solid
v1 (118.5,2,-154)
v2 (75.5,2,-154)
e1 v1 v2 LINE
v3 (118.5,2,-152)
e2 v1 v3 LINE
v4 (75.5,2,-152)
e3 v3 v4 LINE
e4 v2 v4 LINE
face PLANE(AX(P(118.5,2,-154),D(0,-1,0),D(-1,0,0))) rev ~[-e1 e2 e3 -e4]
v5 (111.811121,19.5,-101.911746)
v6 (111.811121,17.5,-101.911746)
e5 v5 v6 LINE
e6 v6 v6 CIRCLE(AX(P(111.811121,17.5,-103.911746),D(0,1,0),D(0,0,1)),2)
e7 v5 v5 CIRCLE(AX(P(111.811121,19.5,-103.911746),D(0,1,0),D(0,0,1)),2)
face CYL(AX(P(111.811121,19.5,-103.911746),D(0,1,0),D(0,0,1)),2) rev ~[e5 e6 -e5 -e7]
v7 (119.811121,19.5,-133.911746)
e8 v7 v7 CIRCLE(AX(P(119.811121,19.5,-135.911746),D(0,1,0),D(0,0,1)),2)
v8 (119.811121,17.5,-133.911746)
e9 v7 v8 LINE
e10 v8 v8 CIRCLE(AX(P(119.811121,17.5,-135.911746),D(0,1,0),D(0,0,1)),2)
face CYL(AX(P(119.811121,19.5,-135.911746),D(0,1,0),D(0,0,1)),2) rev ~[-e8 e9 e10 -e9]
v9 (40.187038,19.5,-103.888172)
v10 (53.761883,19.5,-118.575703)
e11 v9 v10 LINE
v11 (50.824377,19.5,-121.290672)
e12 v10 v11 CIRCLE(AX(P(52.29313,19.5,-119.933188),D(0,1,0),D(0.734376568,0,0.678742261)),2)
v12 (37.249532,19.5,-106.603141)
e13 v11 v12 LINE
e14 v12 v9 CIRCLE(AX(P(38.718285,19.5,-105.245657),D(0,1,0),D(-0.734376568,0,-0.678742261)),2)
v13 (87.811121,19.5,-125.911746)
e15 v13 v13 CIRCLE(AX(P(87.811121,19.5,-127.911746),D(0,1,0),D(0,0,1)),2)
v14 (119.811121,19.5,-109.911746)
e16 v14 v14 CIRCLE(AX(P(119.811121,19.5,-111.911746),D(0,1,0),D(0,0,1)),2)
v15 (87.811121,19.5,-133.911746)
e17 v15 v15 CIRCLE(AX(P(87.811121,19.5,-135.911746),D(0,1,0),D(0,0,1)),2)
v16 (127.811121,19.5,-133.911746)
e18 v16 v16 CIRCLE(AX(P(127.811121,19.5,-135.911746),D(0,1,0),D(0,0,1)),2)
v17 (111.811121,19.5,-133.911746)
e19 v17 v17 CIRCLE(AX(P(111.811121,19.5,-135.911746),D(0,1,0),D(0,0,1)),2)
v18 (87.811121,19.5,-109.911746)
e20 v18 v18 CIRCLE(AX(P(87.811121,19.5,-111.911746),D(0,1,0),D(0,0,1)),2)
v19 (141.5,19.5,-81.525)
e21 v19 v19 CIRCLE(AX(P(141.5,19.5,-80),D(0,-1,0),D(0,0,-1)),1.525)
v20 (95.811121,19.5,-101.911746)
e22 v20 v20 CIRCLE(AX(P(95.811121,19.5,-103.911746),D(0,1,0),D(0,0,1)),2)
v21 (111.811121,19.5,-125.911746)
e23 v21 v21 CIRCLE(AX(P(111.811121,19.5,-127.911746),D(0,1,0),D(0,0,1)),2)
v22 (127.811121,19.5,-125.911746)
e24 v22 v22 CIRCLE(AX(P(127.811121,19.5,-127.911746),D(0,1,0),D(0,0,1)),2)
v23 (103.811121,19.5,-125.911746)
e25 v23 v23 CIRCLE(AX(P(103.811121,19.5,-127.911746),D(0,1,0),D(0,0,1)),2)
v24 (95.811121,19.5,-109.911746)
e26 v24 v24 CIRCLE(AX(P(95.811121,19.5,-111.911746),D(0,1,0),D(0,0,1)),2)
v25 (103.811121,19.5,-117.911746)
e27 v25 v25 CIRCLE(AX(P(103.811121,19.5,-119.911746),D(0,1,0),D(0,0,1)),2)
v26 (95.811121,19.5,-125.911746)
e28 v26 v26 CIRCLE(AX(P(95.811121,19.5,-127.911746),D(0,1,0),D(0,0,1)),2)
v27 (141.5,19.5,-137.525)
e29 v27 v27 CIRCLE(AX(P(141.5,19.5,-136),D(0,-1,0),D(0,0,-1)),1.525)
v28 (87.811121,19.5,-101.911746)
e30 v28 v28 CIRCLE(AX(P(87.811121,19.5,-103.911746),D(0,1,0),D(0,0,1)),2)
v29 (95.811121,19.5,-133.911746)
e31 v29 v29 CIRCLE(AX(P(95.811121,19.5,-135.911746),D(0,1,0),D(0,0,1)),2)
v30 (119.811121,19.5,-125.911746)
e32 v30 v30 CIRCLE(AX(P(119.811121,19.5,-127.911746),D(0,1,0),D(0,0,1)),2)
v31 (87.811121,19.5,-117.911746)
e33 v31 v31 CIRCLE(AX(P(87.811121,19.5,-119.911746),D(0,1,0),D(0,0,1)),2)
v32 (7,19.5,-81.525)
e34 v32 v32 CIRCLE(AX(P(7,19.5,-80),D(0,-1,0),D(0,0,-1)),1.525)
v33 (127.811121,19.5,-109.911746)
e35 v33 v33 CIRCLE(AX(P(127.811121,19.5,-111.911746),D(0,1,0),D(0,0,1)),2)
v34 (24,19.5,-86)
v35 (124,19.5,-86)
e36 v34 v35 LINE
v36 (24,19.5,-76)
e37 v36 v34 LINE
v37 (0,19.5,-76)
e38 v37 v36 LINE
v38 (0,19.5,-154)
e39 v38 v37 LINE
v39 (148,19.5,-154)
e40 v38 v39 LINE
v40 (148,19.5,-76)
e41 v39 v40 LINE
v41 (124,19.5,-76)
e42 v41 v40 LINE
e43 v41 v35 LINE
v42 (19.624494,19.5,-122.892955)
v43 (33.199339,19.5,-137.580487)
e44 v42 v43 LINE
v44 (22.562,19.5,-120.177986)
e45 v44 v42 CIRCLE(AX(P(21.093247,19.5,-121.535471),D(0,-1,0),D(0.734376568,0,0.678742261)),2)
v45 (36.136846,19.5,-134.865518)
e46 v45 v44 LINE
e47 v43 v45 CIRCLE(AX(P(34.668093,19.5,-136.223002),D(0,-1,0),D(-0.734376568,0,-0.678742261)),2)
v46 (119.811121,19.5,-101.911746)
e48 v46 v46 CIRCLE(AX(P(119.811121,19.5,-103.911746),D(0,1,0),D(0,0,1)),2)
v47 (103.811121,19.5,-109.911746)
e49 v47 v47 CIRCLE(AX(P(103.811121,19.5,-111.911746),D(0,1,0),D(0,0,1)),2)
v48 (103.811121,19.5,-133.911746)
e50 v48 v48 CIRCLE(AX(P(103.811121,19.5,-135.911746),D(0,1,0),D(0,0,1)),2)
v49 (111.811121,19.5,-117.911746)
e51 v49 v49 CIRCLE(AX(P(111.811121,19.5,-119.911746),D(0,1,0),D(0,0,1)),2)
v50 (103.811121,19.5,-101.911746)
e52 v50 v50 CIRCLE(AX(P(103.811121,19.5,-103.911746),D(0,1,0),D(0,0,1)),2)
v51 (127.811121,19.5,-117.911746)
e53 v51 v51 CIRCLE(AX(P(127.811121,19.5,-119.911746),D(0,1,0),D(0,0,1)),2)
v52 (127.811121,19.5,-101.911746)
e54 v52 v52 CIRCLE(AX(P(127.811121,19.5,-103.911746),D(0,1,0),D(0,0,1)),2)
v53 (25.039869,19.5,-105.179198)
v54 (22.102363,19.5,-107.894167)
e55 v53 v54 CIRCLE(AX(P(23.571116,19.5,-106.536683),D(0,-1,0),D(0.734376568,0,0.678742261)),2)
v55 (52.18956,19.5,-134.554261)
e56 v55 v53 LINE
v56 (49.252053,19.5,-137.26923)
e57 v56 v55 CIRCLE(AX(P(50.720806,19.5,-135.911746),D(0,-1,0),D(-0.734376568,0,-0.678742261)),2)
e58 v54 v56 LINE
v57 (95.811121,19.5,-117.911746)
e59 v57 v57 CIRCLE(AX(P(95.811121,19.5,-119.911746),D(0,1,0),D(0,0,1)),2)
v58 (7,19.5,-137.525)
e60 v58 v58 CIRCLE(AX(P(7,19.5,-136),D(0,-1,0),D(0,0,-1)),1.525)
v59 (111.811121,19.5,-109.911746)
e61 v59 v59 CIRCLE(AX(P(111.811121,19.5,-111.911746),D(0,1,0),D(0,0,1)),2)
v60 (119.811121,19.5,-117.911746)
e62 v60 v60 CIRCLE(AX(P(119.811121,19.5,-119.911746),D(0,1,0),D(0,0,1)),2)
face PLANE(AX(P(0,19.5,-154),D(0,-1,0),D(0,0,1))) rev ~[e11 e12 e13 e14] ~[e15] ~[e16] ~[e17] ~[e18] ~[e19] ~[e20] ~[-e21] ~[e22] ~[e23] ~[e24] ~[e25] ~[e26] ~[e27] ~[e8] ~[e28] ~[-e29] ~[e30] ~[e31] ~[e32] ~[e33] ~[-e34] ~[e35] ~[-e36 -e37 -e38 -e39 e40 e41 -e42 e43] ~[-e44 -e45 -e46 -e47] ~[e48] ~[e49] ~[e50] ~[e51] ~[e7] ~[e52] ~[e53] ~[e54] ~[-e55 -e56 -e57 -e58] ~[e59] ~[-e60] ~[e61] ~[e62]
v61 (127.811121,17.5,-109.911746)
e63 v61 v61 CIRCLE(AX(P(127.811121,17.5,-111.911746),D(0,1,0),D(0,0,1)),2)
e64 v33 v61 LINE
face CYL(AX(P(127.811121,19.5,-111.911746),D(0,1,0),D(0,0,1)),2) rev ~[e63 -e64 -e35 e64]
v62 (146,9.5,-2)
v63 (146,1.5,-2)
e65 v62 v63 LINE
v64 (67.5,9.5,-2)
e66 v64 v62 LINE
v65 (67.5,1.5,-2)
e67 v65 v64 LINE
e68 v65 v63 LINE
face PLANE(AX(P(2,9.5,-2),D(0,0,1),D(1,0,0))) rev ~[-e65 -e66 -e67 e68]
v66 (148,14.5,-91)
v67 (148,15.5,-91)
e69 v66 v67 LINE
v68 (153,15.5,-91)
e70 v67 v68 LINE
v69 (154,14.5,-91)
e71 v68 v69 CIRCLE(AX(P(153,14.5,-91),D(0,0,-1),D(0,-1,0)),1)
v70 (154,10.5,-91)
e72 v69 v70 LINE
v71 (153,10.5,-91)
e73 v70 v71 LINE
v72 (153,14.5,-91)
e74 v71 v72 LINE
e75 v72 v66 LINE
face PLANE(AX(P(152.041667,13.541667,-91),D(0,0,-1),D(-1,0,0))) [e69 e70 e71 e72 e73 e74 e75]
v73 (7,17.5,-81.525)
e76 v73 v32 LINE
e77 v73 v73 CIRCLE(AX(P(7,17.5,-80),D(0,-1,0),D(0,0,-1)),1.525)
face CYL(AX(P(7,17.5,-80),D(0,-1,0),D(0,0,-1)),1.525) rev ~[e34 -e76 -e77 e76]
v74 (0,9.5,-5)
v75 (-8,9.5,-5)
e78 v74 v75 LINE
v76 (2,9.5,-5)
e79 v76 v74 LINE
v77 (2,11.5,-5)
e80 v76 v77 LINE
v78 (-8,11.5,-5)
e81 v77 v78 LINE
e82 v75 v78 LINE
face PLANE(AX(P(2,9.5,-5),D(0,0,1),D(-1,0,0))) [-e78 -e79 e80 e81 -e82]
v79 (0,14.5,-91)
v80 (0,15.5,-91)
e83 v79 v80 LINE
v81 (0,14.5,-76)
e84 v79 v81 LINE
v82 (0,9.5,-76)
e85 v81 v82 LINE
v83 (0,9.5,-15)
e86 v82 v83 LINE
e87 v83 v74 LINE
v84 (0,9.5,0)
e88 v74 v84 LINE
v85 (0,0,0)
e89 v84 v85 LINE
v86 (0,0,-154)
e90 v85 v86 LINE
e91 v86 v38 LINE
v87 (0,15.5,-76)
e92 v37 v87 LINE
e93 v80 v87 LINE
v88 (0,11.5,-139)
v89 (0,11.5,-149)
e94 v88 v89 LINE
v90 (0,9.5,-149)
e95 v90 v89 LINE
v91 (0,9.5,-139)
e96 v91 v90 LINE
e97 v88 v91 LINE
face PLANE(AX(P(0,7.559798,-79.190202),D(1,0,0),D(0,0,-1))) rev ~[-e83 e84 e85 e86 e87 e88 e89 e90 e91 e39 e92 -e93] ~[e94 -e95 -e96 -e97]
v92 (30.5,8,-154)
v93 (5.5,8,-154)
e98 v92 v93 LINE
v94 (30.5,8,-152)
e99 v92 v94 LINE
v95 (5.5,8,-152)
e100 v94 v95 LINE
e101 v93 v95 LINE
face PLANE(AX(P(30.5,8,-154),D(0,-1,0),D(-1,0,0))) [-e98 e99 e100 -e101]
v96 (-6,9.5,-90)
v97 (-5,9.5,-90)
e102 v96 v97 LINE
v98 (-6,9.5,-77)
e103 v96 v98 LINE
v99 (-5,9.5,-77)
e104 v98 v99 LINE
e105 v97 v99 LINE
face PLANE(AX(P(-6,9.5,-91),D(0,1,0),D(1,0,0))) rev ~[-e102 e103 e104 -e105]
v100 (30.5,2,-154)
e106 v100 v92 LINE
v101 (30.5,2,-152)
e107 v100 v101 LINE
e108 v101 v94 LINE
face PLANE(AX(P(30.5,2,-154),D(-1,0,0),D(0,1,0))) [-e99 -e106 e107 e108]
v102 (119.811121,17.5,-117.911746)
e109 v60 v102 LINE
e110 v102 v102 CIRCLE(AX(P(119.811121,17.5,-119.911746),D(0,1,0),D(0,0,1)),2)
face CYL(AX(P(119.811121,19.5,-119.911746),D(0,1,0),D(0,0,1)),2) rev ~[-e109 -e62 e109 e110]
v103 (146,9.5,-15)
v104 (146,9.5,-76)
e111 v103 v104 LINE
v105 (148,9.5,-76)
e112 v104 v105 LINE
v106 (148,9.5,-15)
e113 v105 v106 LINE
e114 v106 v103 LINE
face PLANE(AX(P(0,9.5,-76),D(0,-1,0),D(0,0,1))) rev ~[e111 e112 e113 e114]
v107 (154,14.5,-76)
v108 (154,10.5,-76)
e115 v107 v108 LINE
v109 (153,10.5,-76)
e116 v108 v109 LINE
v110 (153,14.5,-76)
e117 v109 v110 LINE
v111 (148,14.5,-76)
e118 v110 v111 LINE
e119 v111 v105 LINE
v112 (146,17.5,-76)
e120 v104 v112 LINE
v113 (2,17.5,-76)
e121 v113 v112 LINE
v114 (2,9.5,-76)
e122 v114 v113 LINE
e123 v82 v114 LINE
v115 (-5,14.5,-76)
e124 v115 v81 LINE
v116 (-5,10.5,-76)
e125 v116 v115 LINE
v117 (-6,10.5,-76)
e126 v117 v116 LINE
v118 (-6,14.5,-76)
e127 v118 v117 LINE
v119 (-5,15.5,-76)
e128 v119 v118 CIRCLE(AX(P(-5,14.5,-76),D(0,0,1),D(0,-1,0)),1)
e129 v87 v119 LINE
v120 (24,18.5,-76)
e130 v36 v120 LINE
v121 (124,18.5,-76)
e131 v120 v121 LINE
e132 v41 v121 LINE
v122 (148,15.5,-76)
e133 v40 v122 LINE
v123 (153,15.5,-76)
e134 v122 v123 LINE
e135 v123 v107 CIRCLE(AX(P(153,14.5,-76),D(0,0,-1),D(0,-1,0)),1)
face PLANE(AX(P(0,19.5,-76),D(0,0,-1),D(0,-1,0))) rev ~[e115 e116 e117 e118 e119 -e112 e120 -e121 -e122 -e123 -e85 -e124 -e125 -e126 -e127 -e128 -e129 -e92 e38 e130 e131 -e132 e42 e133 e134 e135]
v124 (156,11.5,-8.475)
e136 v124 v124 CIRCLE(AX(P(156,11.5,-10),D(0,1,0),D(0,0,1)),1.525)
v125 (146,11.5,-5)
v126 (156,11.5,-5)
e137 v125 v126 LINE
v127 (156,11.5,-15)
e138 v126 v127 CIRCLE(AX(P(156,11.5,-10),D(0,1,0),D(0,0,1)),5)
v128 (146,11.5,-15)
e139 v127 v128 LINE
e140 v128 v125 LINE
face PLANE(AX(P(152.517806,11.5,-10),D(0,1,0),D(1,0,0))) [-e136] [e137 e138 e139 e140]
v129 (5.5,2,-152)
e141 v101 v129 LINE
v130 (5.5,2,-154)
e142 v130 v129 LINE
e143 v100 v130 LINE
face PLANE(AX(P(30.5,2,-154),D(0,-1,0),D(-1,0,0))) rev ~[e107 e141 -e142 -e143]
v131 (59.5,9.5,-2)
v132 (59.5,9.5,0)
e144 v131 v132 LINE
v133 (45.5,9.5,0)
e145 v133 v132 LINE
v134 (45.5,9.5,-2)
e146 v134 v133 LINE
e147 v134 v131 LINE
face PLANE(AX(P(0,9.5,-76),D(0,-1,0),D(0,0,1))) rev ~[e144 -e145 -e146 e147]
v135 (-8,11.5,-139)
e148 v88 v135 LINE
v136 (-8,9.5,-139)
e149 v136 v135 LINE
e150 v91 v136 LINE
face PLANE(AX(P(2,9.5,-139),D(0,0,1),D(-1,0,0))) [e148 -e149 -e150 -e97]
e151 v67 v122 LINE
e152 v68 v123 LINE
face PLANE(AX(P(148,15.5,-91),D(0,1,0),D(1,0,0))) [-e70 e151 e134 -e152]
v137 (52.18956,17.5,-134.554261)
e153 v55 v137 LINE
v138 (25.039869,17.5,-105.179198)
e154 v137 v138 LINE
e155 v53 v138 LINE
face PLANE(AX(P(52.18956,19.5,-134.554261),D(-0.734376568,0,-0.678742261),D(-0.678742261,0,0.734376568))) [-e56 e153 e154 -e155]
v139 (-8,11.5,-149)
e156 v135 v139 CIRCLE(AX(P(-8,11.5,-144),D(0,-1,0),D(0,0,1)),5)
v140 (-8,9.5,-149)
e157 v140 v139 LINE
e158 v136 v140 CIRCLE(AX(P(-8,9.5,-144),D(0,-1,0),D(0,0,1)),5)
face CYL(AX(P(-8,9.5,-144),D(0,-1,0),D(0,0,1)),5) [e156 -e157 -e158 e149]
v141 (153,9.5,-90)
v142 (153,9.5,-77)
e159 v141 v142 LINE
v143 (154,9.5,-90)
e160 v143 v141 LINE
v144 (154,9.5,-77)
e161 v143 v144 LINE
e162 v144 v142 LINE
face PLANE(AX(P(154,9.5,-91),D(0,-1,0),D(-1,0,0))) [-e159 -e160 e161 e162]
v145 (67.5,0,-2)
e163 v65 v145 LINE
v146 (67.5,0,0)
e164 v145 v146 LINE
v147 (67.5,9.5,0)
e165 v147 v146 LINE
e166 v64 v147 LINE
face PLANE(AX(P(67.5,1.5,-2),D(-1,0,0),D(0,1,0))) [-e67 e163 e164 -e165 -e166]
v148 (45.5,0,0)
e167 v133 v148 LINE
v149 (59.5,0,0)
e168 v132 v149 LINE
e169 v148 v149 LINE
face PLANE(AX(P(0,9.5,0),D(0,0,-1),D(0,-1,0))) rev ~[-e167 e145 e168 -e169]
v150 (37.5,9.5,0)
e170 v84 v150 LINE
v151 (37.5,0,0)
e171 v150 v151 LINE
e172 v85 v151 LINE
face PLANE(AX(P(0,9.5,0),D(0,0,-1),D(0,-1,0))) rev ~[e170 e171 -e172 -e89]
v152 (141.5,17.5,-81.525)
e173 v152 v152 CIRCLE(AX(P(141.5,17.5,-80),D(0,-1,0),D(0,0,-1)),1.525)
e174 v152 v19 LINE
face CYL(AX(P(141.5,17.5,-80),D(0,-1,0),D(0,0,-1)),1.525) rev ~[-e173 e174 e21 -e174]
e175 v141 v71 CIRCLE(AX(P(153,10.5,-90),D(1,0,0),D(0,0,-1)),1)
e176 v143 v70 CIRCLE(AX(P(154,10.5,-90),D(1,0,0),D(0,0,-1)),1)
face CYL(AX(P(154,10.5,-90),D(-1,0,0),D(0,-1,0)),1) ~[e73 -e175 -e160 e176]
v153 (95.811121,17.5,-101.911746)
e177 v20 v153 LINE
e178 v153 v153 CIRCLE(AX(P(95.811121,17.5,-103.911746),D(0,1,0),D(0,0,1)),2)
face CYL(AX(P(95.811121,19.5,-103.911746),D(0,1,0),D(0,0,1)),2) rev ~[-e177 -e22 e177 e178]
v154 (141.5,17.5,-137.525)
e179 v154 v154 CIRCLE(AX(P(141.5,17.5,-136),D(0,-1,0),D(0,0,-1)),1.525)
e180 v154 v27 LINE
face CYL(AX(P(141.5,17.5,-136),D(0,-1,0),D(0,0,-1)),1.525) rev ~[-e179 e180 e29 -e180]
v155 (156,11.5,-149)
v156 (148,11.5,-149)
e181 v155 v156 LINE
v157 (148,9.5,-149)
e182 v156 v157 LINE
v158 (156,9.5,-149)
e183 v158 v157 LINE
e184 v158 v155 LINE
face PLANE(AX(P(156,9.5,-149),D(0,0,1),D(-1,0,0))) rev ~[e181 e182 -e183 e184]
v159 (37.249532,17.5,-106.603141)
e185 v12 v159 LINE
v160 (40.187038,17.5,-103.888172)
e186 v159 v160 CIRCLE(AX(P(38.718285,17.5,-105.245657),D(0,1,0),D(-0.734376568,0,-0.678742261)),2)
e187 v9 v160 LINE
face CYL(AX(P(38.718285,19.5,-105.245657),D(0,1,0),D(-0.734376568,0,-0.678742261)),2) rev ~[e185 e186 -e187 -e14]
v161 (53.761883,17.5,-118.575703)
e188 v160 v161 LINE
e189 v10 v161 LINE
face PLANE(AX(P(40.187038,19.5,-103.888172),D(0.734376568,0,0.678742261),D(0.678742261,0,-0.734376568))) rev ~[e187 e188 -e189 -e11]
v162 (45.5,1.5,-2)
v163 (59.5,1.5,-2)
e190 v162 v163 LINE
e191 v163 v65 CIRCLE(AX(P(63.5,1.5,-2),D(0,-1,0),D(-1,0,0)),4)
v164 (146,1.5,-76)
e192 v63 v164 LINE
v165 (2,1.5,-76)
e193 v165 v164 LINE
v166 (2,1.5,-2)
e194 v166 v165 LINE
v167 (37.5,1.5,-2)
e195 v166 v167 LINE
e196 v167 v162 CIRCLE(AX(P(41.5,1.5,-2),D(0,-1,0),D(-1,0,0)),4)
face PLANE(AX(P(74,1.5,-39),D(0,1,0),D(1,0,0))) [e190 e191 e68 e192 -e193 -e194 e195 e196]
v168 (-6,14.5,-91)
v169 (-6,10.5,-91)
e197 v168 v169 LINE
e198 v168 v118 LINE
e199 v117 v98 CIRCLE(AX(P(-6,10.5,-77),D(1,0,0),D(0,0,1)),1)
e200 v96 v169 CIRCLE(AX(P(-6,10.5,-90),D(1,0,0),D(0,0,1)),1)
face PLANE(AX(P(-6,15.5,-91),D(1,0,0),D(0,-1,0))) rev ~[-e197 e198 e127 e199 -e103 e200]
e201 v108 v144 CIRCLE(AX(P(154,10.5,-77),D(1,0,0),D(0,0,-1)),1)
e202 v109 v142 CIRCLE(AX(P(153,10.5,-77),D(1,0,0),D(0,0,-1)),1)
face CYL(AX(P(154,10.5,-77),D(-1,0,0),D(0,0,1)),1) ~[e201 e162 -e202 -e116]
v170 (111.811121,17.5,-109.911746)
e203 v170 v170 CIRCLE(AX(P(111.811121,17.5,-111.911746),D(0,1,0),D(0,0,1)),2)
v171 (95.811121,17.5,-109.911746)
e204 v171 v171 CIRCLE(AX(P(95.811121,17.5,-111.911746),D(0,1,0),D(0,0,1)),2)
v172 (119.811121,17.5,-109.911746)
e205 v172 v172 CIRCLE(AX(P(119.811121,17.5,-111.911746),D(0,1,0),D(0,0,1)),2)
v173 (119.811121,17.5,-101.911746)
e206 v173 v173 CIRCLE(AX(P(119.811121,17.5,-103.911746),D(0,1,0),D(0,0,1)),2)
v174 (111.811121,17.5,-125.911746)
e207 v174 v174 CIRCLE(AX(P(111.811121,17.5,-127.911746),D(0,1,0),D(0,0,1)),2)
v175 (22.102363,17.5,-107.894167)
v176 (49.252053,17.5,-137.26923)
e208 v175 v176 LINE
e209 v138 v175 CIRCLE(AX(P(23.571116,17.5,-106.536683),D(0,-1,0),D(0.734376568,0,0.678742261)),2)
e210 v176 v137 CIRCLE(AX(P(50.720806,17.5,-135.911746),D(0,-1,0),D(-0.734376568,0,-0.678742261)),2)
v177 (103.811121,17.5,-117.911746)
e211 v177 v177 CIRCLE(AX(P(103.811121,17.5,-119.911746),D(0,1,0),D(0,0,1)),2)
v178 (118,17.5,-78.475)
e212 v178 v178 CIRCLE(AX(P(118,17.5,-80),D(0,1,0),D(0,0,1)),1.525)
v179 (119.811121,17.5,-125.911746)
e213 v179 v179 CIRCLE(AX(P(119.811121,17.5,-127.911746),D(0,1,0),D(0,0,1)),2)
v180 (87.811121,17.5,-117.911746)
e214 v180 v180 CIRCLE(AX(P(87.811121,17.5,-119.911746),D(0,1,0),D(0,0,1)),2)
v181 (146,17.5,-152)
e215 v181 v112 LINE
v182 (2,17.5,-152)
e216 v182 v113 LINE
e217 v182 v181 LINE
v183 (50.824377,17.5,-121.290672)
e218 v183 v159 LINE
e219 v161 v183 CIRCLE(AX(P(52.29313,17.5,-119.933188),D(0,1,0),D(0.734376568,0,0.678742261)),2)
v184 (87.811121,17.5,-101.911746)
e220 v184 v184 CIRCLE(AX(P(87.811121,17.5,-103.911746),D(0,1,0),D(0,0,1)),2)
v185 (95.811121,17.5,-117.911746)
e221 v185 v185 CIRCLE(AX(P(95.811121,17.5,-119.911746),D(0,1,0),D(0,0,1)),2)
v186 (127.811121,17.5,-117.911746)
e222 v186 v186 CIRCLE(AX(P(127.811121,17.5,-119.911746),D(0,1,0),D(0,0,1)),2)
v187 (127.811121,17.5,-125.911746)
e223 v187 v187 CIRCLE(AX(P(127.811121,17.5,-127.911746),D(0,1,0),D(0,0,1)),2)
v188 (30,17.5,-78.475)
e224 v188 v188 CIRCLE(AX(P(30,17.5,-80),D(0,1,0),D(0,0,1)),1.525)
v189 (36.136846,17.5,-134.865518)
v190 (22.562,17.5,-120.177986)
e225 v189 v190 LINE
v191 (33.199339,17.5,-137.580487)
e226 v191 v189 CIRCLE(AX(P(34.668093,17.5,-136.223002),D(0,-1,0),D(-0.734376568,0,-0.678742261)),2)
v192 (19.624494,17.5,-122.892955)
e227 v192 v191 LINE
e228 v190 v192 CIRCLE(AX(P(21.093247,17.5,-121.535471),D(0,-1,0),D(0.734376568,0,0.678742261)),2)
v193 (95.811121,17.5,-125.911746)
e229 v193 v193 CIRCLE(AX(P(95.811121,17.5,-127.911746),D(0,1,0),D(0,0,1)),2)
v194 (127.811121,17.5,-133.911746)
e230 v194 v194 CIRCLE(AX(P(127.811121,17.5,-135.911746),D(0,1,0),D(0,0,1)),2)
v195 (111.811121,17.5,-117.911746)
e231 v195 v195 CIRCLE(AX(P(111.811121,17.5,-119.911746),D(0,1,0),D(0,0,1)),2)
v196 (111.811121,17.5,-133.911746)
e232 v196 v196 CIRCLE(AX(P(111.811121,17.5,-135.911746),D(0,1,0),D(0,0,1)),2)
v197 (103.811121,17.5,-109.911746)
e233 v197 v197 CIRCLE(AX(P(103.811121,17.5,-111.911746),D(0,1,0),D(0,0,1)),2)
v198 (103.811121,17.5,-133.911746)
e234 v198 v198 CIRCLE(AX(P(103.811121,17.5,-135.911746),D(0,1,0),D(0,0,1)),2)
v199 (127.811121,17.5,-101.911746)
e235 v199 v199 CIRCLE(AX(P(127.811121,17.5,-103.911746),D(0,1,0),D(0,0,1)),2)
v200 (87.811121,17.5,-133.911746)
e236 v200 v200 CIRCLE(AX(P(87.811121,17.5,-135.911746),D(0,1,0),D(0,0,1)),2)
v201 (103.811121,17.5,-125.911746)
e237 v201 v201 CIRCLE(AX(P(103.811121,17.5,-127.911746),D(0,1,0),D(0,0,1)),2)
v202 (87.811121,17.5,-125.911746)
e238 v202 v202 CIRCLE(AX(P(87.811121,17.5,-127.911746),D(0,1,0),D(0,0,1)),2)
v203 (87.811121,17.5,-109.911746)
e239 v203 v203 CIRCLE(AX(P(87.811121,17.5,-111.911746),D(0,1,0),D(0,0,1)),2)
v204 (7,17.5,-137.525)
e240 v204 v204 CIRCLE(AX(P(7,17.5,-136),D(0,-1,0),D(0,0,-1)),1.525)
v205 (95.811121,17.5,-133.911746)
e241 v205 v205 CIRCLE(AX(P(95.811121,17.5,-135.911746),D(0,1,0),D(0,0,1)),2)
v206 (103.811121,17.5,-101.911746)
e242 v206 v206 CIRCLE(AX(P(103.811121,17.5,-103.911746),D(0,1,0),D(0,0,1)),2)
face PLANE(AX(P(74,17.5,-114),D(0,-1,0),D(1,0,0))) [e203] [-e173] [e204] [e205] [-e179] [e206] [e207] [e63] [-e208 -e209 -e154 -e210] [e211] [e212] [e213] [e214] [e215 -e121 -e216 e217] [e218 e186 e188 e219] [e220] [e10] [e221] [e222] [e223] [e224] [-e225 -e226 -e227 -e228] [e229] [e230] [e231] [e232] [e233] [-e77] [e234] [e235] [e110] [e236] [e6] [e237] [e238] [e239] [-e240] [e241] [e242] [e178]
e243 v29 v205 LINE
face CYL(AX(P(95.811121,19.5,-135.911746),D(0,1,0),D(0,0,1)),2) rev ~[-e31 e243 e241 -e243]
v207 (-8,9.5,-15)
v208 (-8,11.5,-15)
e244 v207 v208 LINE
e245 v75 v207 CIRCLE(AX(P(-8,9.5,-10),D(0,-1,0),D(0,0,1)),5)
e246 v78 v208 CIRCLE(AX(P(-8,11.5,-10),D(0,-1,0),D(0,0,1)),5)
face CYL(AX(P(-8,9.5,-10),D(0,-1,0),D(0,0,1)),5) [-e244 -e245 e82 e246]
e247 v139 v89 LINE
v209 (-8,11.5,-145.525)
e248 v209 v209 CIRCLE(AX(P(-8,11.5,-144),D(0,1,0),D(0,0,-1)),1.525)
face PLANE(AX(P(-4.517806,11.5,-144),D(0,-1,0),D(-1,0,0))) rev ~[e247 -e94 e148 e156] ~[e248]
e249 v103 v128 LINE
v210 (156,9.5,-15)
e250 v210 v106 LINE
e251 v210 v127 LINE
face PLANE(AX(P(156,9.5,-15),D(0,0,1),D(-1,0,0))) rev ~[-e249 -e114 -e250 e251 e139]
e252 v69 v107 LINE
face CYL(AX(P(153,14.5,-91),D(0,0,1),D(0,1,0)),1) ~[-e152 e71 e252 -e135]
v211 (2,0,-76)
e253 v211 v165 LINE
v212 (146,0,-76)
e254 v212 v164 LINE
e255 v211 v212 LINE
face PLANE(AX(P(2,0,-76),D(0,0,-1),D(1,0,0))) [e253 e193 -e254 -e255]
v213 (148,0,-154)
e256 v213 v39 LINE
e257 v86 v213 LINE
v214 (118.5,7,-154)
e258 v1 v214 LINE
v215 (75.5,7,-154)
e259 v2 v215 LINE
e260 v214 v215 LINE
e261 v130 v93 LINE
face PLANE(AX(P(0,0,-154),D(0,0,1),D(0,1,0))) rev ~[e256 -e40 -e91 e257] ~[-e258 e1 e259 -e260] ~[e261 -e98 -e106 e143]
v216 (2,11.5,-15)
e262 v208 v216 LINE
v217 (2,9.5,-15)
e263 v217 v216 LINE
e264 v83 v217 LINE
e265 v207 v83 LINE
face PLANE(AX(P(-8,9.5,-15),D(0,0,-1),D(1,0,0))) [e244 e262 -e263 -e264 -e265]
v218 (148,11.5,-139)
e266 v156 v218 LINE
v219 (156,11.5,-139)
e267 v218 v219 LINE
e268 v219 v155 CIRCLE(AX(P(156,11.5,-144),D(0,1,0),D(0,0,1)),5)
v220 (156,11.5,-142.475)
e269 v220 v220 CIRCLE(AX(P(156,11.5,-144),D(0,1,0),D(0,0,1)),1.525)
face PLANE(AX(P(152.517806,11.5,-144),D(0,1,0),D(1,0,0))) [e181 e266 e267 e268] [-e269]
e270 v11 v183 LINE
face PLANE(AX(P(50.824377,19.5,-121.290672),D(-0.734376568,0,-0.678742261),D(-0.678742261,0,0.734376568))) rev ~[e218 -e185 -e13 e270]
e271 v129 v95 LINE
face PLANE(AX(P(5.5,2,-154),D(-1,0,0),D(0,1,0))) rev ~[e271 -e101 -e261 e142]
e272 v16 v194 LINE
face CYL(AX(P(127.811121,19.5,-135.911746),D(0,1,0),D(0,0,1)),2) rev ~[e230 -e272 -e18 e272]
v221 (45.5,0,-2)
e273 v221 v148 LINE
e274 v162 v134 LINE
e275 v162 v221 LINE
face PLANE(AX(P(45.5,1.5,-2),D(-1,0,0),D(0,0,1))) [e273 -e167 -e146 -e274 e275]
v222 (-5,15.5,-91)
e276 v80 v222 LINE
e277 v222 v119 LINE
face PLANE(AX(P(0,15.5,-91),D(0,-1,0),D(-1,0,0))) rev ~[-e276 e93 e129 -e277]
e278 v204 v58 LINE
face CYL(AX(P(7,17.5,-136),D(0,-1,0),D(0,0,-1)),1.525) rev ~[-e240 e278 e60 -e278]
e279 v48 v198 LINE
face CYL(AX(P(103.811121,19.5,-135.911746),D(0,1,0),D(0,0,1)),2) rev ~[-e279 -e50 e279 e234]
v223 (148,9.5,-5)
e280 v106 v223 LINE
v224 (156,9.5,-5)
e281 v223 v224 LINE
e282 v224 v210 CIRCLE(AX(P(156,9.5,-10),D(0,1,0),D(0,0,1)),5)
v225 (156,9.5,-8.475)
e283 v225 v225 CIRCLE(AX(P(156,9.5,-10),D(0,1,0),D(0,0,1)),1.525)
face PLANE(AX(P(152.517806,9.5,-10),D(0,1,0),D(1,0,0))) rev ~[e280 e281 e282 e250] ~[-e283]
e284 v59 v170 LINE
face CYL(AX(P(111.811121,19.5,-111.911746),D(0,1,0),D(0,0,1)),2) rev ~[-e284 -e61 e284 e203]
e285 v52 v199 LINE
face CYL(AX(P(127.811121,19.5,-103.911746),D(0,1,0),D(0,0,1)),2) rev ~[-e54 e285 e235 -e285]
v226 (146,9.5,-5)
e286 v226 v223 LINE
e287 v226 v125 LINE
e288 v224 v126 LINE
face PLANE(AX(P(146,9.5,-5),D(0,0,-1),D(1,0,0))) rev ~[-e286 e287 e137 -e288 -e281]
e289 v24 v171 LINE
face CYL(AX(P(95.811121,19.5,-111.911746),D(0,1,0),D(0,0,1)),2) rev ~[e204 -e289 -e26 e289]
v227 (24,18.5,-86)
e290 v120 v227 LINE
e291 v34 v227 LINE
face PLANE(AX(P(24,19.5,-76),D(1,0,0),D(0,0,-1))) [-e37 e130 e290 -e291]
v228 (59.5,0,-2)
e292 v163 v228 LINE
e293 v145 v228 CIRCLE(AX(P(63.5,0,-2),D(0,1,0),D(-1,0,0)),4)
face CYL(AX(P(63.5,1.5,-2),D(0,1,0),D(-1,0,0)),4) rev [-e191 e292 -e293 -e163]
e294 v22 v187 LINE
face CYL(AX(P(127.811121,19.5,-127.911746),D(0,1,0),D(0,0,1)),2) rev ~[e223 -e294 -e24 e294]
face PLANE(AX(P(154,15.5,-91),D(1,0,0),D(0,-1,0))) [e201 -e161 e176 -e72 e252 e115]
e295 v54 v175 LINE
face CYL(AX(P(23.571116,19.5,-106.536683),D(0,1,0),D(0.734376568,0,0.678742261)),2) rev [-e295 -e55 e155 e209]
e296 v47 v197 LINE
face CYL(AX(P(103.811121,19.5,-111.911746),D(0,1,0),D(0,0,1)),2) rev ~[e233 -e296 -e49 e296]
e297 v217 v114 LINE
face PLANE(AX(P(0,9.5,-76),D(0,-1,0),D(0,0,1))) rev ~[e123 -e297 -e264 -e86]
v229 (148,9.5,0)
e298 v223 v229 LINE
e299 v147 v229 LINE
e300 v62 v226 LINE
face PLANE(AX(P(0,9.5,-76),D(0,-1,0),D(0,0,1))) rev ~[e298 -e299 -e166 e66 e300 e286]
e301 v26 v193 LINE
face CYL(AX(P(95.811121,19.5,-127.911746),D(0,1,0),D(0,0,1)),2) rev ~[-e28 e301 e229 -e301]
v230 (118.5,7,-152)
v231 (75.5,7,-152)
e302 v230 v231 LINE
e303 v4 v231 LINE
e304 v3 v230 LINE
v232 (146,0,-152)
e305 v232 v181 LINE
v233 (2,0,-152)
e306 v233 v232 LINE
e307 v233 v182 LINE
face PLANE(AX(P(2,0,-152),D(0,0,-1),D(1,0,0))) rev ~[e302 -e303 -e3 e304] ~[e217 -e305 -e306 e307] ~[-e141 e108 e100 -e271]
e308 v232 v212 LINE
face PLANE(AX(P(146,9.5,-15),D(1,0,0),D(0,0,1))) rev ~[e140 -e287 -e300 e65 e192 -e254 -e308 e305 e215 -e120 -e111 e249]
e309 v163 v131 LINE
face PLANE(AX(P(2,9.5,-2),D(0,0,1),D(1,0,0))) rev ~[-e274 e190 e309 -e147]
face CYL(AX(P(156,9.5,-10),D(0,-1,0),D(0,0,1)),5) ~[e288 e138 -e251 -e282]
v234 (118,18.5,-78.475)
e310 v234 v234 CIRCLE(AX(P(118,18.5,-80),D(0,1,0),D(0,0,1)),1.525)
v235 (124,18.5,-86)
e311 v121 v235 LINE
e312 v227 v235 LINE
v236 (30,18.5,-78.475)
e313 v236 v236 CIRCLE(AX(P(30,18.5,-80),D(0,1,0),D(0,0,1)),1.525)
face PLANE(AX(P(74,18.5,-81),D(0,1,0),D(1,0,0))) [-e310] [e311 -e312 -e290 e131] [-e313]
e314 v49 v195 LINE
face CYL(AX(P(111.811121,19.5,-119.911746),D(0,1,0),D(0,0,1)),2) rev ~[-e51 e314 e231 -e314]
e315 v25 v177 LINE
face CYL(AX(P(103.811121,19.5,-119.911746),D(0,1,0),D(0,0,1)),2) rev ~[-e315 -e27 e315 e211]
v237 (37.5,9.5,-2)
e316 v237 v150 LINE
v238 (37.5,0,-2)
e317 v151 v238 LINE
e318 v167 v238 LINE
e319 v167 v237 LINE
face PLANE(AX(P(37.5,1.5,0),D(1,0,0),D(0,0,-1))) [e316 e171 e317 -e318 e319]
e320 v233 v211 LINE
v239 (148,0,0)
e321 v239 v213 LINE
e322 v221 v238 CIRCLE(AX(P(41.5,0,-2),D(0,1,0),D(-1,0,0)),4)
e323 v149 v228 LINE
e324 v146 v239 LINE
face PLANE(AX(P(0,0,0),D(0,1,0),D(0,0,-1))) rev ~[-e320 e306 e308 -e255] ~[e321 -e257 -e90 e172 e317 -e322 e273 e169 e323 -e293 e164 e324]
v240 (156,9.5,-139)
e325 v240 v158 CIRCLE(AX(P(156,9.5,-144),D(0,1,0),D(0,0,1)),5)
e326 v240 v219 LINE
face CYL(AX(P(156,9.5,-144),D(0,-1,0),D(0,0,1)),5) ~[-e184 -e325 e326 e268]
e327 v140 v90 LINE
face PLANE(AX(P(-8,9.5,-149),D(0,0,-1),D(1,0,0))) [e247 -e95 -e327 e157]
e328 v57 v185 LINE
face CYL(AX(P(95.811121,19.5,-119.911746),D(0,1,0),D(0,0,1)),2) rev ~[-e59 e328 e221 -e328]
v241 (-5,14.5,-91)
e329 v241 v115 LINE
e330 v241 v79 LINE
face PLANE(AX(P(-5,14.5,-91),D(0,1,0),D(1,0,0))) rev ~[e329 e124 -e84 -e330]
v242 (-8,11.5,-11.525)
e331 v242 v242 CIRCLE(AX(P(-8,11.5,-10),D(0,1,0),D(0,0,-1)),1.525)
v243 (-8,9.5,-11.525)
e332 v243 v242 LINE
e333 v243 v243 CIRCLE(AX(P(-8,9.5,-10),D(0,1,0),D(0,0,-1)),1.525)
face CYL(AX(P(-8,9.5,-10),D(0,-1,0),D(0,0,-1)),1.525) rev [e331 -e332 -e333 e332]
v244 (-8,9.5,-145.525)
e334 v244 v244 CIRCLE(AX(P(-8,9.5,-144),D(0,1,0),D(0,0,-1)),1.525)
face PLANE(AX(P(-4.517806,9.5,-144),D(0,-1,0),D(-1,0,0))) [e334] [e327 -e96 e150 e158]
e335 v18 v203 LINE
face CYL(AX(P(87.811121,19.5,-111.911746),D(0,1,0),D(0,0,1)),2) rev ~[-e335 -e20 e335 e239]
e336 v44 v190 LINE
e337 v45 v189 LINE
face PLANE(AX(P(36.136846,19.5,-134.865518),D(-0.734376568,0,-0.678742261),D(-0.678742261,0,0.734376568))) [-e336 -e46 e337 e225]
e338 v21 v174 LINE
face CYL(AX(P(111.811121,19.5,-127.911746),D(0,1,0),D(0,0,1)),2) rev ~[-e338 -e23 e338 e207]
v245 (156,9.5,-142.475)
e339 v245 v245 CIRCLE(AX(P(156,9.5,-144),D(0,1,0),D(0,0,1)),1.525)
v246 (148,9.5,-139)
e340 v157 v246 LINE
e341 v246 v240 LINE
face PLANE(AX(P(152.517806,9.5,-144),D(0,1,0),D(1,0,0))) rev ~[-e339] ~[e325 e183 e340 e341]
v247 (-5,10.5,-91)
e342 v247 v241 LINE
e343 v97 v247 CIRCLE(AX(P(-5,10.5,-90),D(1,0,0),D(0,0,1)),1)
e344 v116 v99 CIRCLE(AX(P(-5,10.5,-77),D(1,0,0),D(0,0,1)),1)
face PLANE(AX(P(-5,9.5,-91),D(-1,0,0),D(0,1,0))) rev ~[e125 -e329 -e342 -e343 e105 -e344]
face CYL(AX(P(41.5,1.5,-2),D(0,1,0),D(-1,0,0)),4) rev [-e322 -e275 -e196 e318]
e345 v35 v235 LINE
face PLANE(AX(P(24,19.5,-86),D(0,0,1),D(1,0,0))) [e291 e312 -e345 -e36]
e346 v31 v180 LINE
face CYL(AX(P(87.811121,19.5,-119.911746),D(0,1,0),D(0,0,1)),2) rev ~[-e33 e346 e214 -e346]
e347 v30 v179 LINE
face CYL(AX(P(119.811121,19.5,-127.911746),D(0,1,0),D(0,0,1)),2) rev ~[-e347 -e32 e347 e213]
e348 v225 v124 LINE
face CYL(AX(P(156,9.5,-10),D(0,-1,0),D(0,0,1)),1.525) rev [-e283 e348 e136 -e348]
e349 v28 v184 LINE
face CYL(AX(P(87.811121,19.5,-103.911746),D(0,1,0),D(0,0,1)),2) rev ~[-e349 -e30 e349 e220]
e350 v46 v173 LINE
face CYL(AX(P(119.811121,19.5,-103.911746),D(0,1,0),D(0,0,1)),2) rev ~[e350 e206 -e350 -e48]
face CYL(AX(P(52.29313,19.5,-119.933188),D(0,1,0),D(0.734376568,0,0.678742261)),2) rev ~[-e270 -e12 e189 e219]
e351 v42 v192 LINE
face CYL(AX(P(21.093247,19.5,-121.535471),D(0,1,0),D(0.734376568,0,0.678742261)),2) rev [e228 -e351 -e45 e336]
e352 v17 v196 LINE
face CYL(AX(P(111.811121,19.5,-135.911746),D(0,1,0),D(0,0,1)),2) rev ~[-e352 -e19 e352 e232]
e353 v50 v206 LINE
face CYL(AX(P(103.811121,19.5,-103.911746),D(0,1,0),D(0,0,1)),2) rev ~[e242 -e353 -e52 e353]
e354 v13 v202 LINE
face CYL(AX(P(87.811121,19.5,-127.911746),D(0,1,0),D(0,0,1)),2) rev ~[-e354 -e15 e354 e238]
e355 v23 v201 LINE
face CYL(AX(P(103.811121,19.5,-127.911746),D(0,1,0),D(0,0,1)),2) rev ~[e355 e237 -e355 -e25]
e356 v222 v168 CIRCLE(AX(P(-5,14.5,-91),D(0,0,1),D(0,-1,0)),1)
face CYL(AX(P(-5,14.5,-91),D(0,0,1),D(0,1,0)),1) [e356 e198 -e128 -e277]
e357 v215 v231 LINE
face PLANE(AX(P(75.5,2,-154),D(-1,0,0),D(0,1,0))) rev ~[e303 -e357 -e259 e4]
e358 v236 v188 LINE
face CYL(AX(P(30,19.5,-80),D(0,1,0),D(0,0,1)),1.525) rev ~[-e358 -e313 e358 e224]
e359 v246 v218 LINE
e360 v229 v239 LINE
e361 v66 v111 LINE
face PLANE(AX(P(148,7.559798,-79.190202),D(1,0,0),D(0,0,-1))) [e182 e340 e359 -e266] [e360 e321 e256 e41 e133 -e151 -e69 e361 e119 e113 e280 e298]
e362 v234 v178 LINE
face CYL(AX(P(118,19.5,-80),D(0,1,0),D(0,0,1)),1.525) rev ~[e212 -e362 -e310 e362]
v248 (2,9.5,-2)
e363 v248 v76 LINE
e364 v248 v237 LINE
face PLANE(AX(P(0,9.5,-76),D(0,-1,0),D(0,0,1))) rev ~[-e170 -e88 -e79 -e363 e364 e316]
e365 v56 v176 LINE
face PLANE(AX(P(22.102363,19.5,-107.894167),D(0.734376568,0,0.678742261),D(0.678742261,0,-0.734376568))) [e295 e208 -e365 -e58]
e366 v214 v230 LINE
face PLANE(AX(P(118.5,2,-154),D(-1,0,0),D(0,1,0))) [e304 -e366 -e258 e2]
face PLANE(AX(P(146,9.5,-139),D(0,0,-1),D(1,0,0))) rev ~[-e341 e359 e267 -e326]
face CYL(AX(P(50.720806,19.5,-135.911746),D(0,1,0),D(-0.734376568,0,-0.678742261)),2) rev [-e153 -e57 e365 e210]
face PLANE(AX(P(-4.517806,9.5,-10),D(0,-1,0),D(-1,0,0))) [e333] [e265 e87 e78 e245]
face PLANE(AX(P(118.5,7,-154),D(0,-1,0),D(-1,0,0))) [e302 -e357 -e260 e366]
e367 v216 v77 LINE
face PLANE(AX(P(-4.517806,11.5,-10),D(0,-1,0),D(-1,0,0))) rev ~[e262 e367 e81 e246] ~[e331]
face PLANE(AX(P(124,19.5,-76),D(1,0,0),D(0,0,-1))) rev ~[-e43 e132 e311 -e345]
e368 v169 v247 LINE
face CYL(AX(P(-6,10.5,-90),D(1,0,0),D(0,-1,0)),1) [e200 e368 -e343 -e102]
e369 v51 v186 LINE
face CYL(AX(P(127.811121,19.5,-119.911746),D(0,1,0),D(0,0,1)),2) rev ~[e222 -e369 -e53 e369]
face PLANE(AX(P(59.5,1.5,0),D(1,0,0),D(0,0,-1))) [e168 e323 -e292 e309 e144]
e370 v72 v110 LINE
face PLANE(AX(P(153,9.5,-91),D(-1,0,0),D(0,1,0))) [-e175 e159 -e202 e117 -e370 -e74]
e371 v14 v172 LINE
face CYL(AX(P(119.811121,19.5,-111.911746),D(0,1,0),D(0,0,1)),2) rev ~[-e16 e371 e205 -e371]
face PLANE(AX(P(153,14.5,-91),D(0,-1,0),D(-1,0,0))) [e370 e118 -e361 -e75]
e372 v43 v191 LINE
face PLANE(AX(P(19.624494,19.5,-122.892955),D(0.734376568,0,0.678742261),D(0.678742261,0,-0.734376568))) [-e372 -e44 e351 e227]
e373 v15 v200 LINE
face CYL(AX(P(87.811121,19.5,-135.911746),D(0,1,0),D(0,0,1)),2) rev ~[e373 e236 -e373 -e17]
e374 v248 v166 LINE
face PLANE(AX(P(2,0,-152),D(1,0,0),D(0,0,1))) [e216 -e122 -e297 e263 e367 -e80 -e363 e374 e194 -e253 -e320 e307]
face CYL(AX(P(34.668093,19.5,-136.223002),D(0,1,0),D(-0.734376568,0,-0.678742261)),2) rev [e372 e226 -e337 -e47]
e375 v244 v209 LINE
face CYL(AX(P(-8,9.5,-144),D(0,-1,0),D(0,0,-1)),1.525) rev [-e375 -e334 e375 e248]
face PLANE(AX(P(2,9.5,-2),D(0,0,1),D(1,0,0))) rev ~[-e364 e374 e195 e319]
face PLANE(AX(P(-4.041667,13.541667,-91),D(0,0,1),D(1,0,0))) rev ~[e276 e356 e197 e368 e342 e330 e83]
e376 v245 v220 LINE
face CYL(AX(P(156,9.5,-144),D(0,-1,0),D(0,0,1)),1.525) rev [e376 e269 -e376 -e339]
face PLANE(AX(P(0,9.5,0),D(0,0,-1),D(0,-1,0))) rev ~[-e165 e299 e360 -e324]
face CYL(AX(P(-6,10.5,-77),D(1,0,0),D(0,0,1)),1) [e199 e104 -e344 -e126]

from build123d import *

# Parameters (mm, degrees)
EXTRUDE_1_DEPTH      = 148
SKETCH_2_W           = 144
SKETCH_2_H           = 74
CUT_EXTRUDE_1_DEPTH  = 8
SKETCH_3_W           = 144
SKETCH_3_H           = 76
CUT_EXTRUDE_2_DEPTH  = 17.5
SKETCH_6_R           = 1.525
EXTRUDE_2_DEPTH      = 2
SKETCH_7_R           = 1.525
CUT_EXTRUDE_3_DEPTH  = 2
SKETCH_8_W           = 100
SKETCH_8_H           = 10
CUT_EXTRUDE_4_DEPTH  = 1
SKETCH_10_R          = 1.5
SKETCH_10_R_2        = 2
CUT_EXTRUDE_6_DEPTH  = 2
SKETCH_12_W          = 43
SKETCH_12_H          = 5
SKETCH_12_W_2        = 25
SKETCH_12_H_2        = 6
CUT_EXTRUDE_7_DEPTH  = 2
SKETCH_14_R          = 1.525
CUT_EXTRUDE_8_DEPTH  = 2
SKETCH_15_W          = 8
SKETCH_15_H          = 8
CUT_EXTRUDE_9_DEPTH  = 10
CUT_EXTRUDE_11_DEPTH = 10
EXTRUDE_START        = 48
EXTRUDE_3_DEPTH      = 15
FILLET_1_R           = 1
FILLET_2_R           = 1


with BuildPart() as part:
    # 草图1 → 凸台-拉伸1 (new body)
    with BuildSketch(Plane(origin=(0, 0, 0), x_dir=(0, 0, -1), z_dir=(1, 0, 0))):
        Polygon((0, 0), (154, 0), (154, 19.5), (76, 19.5), (76, 9.5), (0, 9.5), align=None)
    extrude(amount=EXTRUDE_1_DEPTH)

    # 草图2 → 切除-拉伸1 (cut)
    with BuildSketch(Plane(origin=(0, 9.5, 0), x_dir=(1, 0, 0), z_dir=(0, 1, 0))):
        with Locations((74, 39)):
            Rectangle(SKETCH_2_W, SKETCH_2_H)
    extrude(amount=-CUT_EXTRUDE_1_DEPTH, mode=Mode.SUBTRACT)

    # 草图3 → 切除-拉伸2 (cut)
    with BuildSketch(Plane.XZ):
        with Locations((74, -114)):
            Rectangle(SKETCH_3_W, SKETCH_3_H)
    extrude(amount=-CUT_EXTRUDE_2_DEPTH, mode=Mode.SUBTRACT)

    # 草图6 → 凸台-拉伸2 (add)
    # profile 1 of 4: a face of its own
    with BuildSketch(Plane(origin=(0, 9.5, 0), x_dir=(1, 0, 0), z_dir=(0, 1, 0))):
        with BuildLine():
            Line((146, 5), (156, 5))
            ThreePointArc((156, 5), (161, 10), (156, 15))
            Line((156, 15), (146, 15))
            Line((146, 15), (146, 5))
        make_face()
        with Locations(Location((156, 10, 0), (0, 0, 270))):
            Circle(SKETCH_6_R, mode=Mode.SUBTRACT)
    # profile 2 of 4: a face of its own
    with BuildSketch(Plane(origin=(0, 9.5, 0), x_dir=(1, 0, 0), z_dir=(0, 1, 0))):
        with BuildLine():
            Line((-8, 15), (2, 15))
            Line((2, 15), (2, 5))
            Line((2, 5), (-8, 5))
            ThreePointArc((-8, 5), (-13, 10), (-8, 15))
        make_face()
        with Locations(Location((-8, 10, 0), (0, 0, 90))):
            Circle(SKETCH_6_R, mode=Mode.SUBTRACT)
    # profile 3 of 4: a face of its own
    with BuildSketch(Plane(origin=(0, 9.5, 0), x_dir=(1, 0, 0), z_dir=(0, 1, 0))):
        with BuildLine():
            Line((146, 139), (156, 139))
            ThreePointArc((156, 139), (161, 144), (156, 149))
            Line((156, 149), (146, 149))
            Line((146, 149), (146, 139))
        make_face()
        with Locations(Location((156, 144, 0), (0, 0, 270))):
            Circle(SKETCH_6_R, mode=Mode.SUBTRACT)
    # profile 4 of 4: a face of its own
    with BuildSketch(Plane(origin=(0, 9.5, 0), x_dir=(1, 0, 0), z_dir=(0, 1, 0))):
        with BuildLine():
            Line((-8, 149), (2, 149))
            Line((2, 149), (2, 139))
            Line((2, 139), (-8, 139))
            ThreePointArc((-8, 139), (-13, 144), (-8, 149))
        make_face()
        with Locations(Location((-8, 144, 0), (0, 0, 90))):
            Circle(SKETCH_6_R, mode=Mode.SUBTRACT)
    extrude(amount=EXTRUDE_2_DEPTH)

    # 草图7 → 切除-拉伸3 (cut)
    with BuildSketch(Plane(origin=(0, 19.5, 0), x_dir=(1, 0, 0), z_dir=(0, 1, 0))):
        with Locations(Location((118, 80, 0), (0, 0, 270))):
            Circle(SKETCH_7_R)
        with Locations(Location((30, 80, 0), (0, 0, 270))):
            Circle(SKETCH_7_R)
    extrude(amount=-CUT_EXTRUDE_3_DEPTH, mode=Mode.SUBTRACT)

    # 草图8 → 切除-拉伸4 (cut)
    with BuildSketch(Plane(origin=(0, 19.5, 0), x_dir=(1, 0, 0), z_dir=(0, 1, 0))):
        with Locations((74, 81)):
            Rectangle(SKETCH_8_W, SKETCH_8_H)
    extrude(amount=-CUT_EXTRUDE_4_DEPTH, mode=Mode.SUBTRACT)

    # 草图10 → 切除-拉伸6 (cut)
    with BuildSketch(Plane(origin=(0, 19.5, 0), x_dir=(1, 0, 0), z_dir=(0, 1, 0))):
        with Locations((92.824957671, 0)):
            Circle(SKETCH_10_R)
        with Locations(Location((87.811120796, 135.911745597, 0), (0, 0, 270))):
            Circle(SKETCH_10_R_2)
        with Locations(Location((95.811120796, 135.911745597, 0), (0, 0, 270))):
            Circle(SKETCH_10_R_2)
        with Locations(Location((103.811120796, 135.911745597, 0), (0, 0, 270))):
            Circle(SKETCH_10_R_2)
        with Locations(Location((111.811120796, 135.911745597, 0), (0, 0, 270))):
            Circle(SKETCH_10_R_2)
        with Locations(Location((119.811120796, 135.911745597, 0), (0, 0, 270))):
            Circle(SKETCH_10_R_2)
        with Locations(Location((127.811120796, 135.911745597, 0), (0, 0, 270))):
            Circle(SKETCH_10_R_2)
        with Locations(Location((95.811120796, 127.911745597, 0), (0, 0, 270))):
            Circle(SKETCH_10_R_2)
        with Locations(Location((103.811120796, 127.911745597, 0), (0, 0, 270))):
            Circle(SKETCH_10_R_2)
        with Locations(Location((111.811120796, 127.911745597, 0), (0, 0, 270))):
            Circle(SKETCH_10_R_2)
        with Locations(Location((119.811120796, 127.911745597, 0), (0, 0, 270))):
            Circle(SKETCH_10_R_2)
        with Locations(Location((127.811120796, 127.911745597, 0), (0, 0, 270))):
            Circle(SKETCH_10_R_2)
        with Locations(Location((95.811120796, 119.911745597, 0), (0, 0, 270))):
            Circle(SKETCH_10_R_2)
        with Locations(Location((103.811120796, 119.911745597, 0), (0, 0, 270))):
            Circle(SKETCH_10_R_2)
        with Locations(Location((111.811120796, 119.911745597, 0), (0, 0, 270))):
            Circle(SKETCH_10_R_2)
        with Locations(Location((119.811120796, 119.911745597, 0), (0, 0, 270))):
            Circle(SKETCH_10_R_2)
        with Locations(Location((127.811120796, 119.911745597, 0), (0, 0, 270))):
            Circle(SKETCH_10_R_2)
        with Locations(Location((95.811120796, 111.911745597, 0), (0, 0, 270))):
            Circle(SKETCH_10_R_2)
        with Locations(Location((103.811120796, 111.911745597, 0), (0, 0, 270))):
            Circle(SKETCH_10_R_2)
        with Locations(Location((111.811120796, 111.911745597, 0), (0, 0, 270))):
            Circle(SKETCH_10_R_2)
        with Locations(Location((119.811120796, 111.911745597, 0), (0, 0, 270))):
            Circle(SKETCH_10_R_2)
        with Locations(Location((127.811120796, 111.911745597, 0), (0, 0, 270))):
            Circle(SKETCH_10_R_2)
        with Locations(Location((95.811120796, 103.911745597, 0), (0, 0, 270))):
            Circle(SKETCH_10_R_2)
        with Locations(Location((103.811120796, 103.911745597, 0), (0, 0, 270))):
            Circle(SKETCH_10_R_2)
        with Locations(Location((111.811120796, 103.911745597, 0), (0, 0, 270))):
            Circle(SKETCH_10_R_2)
        with Locations(Location((119.811120796, 103.911745597, 0), (0, 0, 270))):
            Circle(SKETCH_10_R_2)
        with Locations(Location((127.811120796, 103.911745597, 0), (0, 0, 270))):
            Circle(SKETCH_10_R_2)
        with Locations(Location((87.811120796, 127.911745597, 0), (0, 0, 270))):
            Circle(SKETCH_10_R_2)
        with Locations(Location((87.811120796, 119.911745597, 0), (0, 0, 270))):
            Circle(SKETCH_10_R_2)
        with Locations(Location((87.811120796, 111.911745597, 0), (0, 0, 270))):
            Circle(SKETCH_10_R_2)
        with Locations(Location((87.811120796, 103.911745597, 0), (0, 0, 270))):
            Circle(SKETCH_10_R_2)
        with BuildLine():
            Line((36.136845643, 134.865517695), (22.562000425, 120.17798634))
            ThreePointArc((22.562000425, 120.17798634), (19.735762768, 120.066717726), (19.624494154, 122.892955383))
            Line((19.624494154, 122.892955383), (33.199339372, 137.580486739))
            ThreePointArc((33.199339372, 137.580486739), (36.025577029, 137.691755353), (36.136845643, 134.865517695))
        make_face()
        with BuildLine():
            Line((52.189559598, 134.554261075), (25.039869163, 105.179198365))
            ThreePointArc((25.039869163, 105.179198365), (22.213631506, 105.067929751), (22.102362892, 107.894167408))
            Line((22.102362892, 107.894167408), (49.252053327, 137.269230119))
            ThreePointArc((49.252053327, 137.269230119), (52.078290985, 137.380498733), (52.189559598, 134.554261075))
        make_face()
        with BuildLine():
            Line((50.824376998, 121.290672478), (37.249531781, 106.603141122))
            ThreePointArc((37.249531781, 106.603141122), (37.360800394, 103.776903465), (40.187038052, 103.888172079))
            Line((40.187038052, 103.888172079), (53.761883269, 118.575703434))
            ThreePointArc((53.761883269, 118.575703434), (53.650614655, 121.401941091), (50.824376998, 121.290672478))
        make_face()
    extrude(amount=-CUT_EXTRUDE_6_DEPTH, mode=Mode.SUBTRACT)

    # 草图12 → 切除-拉伸7 (cut)
    with BuildSketch(Plane(origin=(0, 0, -154), x_dir=(-1, 0, 0), z_dir=(0, 0, -1))):
        with Locations((-97, 4.5)):
            Rectangle(SKETCH_12_W, SKETCH_12_H)
        with Locations((-18, 5)):
            Rectangle(SKETCH_12_W_2, SKETCH_12_H_2)
    extrude(amount=-CUT_EXTRUDE_7_DEPTH, mode=Mode.SUBTRACT)

    # 草图14 → 切除-拉伸8 (cut)
    with BuildSketch(Plane.XZ.offset(-17.5)):
        with Locations(Location((141.5, -80, 0), (0, 0, 270))):
            Circle(SKETCH_14_R)
        with Locations(Location((141.5, -136, 0), (0, 0, 270))):
            Circle(SKETCH_14_R)
        with Locations(Location((7, -136, 0), (0, 0, 270))):
            Circle(SKETCH_14_R)
        with Locations(Location((7, -80, 0), (0, 0, 270))):
            Circle(SKETCH_14_R)
    extrude(amount=-CUT_EXTRUDE_8_DEPTH, mode=Mode.SUBTRACT)

    # 草图15 → 切除-拉伸9 (cut)
    with BuildSketch(Plane(origin=(0, 0, -2), x_dir=(-1, 0, 0), z_dir=(0, 0, -1))):
        with Locations((-41.5, 5.5)):
            Rectangle(SKETCH_15_W, SKETCH_15_H)
        with Locations((-63.5, 5.5)):
            Rectangle(SKETCH_15_W, SKETCH_15_H)
    extrude(amount=-CUT_EXTRUDE_9_DEPTH, mode=Mode.SUBTRACT)

    # 草图16 → 切除-拉伸11 (cut)
    with BuildSketch(Plane(origin=(0, 1.5, 0), x_dir=(1, 0, 0), z_dir=(0, 1, 0))):
        with BuildLine():
            Line((45.5, 2), (45.5, 0))
            Line((45.5, 0), (37.5, 0))
            Line((37.5, 0), (37.5, 2))
            ThreePointArc((37.5, 2), (41.5, 6), (45.5, 2))
        make_face()
        with BuildLine():
            Line((67.5, 2), (67.5, 0))
            Line((67.5, 0), (59.5, 0))
            Line((59.5, 0), (59.5, 2))
            ThreePointArc((59.5, 2), (63.5, 6), (67.5, 2))
        make_face()
    extrude(amount=-CUT_EXTRUDE_11_DEPTH, mode=Mode.SUBTRACT)

    # 草图17 → 凸台-拉伸3 (add)
    with BuildSketch(Plane.XY.offset(-139).offset(EXTRUDE_START)):
        Polygon((148, 14.5), (148, 15.5), (154, 15.5), (154, 9.5), (153, 9.5), (153, 14.5), align=None)
        Polygon((0, 15.5), (-6, 15.5), (-6, 9.5), (-5, 9.5), (-5, 14.5), (0, 14.5), align=None)
    extrude(amount=EXTRUDE_3_DEPTH)

    # 圆角1
    fillet_1_edges = [part.edges().sort_by_distance(p)[0] for p in [
        (-6, 15.5, -83.5),
        (154, 15.5, -83.5),
    ]]
    fillet(fillet_1_edges, radius=FILLET_1_R)

    # 圆角2
    fillet_2_edges = [part.edges().sort_by_distance(p)[0] for p in [
        (-5.5, 9.5, -91),
        (-5.5, 9.5, -76),
        (153.5, 9.5, -91),
        (153.5, 9.5, -76),
    ]]
    fillet(fillet_2_edges, radius=FILLET_2_R)


solid = part.part
